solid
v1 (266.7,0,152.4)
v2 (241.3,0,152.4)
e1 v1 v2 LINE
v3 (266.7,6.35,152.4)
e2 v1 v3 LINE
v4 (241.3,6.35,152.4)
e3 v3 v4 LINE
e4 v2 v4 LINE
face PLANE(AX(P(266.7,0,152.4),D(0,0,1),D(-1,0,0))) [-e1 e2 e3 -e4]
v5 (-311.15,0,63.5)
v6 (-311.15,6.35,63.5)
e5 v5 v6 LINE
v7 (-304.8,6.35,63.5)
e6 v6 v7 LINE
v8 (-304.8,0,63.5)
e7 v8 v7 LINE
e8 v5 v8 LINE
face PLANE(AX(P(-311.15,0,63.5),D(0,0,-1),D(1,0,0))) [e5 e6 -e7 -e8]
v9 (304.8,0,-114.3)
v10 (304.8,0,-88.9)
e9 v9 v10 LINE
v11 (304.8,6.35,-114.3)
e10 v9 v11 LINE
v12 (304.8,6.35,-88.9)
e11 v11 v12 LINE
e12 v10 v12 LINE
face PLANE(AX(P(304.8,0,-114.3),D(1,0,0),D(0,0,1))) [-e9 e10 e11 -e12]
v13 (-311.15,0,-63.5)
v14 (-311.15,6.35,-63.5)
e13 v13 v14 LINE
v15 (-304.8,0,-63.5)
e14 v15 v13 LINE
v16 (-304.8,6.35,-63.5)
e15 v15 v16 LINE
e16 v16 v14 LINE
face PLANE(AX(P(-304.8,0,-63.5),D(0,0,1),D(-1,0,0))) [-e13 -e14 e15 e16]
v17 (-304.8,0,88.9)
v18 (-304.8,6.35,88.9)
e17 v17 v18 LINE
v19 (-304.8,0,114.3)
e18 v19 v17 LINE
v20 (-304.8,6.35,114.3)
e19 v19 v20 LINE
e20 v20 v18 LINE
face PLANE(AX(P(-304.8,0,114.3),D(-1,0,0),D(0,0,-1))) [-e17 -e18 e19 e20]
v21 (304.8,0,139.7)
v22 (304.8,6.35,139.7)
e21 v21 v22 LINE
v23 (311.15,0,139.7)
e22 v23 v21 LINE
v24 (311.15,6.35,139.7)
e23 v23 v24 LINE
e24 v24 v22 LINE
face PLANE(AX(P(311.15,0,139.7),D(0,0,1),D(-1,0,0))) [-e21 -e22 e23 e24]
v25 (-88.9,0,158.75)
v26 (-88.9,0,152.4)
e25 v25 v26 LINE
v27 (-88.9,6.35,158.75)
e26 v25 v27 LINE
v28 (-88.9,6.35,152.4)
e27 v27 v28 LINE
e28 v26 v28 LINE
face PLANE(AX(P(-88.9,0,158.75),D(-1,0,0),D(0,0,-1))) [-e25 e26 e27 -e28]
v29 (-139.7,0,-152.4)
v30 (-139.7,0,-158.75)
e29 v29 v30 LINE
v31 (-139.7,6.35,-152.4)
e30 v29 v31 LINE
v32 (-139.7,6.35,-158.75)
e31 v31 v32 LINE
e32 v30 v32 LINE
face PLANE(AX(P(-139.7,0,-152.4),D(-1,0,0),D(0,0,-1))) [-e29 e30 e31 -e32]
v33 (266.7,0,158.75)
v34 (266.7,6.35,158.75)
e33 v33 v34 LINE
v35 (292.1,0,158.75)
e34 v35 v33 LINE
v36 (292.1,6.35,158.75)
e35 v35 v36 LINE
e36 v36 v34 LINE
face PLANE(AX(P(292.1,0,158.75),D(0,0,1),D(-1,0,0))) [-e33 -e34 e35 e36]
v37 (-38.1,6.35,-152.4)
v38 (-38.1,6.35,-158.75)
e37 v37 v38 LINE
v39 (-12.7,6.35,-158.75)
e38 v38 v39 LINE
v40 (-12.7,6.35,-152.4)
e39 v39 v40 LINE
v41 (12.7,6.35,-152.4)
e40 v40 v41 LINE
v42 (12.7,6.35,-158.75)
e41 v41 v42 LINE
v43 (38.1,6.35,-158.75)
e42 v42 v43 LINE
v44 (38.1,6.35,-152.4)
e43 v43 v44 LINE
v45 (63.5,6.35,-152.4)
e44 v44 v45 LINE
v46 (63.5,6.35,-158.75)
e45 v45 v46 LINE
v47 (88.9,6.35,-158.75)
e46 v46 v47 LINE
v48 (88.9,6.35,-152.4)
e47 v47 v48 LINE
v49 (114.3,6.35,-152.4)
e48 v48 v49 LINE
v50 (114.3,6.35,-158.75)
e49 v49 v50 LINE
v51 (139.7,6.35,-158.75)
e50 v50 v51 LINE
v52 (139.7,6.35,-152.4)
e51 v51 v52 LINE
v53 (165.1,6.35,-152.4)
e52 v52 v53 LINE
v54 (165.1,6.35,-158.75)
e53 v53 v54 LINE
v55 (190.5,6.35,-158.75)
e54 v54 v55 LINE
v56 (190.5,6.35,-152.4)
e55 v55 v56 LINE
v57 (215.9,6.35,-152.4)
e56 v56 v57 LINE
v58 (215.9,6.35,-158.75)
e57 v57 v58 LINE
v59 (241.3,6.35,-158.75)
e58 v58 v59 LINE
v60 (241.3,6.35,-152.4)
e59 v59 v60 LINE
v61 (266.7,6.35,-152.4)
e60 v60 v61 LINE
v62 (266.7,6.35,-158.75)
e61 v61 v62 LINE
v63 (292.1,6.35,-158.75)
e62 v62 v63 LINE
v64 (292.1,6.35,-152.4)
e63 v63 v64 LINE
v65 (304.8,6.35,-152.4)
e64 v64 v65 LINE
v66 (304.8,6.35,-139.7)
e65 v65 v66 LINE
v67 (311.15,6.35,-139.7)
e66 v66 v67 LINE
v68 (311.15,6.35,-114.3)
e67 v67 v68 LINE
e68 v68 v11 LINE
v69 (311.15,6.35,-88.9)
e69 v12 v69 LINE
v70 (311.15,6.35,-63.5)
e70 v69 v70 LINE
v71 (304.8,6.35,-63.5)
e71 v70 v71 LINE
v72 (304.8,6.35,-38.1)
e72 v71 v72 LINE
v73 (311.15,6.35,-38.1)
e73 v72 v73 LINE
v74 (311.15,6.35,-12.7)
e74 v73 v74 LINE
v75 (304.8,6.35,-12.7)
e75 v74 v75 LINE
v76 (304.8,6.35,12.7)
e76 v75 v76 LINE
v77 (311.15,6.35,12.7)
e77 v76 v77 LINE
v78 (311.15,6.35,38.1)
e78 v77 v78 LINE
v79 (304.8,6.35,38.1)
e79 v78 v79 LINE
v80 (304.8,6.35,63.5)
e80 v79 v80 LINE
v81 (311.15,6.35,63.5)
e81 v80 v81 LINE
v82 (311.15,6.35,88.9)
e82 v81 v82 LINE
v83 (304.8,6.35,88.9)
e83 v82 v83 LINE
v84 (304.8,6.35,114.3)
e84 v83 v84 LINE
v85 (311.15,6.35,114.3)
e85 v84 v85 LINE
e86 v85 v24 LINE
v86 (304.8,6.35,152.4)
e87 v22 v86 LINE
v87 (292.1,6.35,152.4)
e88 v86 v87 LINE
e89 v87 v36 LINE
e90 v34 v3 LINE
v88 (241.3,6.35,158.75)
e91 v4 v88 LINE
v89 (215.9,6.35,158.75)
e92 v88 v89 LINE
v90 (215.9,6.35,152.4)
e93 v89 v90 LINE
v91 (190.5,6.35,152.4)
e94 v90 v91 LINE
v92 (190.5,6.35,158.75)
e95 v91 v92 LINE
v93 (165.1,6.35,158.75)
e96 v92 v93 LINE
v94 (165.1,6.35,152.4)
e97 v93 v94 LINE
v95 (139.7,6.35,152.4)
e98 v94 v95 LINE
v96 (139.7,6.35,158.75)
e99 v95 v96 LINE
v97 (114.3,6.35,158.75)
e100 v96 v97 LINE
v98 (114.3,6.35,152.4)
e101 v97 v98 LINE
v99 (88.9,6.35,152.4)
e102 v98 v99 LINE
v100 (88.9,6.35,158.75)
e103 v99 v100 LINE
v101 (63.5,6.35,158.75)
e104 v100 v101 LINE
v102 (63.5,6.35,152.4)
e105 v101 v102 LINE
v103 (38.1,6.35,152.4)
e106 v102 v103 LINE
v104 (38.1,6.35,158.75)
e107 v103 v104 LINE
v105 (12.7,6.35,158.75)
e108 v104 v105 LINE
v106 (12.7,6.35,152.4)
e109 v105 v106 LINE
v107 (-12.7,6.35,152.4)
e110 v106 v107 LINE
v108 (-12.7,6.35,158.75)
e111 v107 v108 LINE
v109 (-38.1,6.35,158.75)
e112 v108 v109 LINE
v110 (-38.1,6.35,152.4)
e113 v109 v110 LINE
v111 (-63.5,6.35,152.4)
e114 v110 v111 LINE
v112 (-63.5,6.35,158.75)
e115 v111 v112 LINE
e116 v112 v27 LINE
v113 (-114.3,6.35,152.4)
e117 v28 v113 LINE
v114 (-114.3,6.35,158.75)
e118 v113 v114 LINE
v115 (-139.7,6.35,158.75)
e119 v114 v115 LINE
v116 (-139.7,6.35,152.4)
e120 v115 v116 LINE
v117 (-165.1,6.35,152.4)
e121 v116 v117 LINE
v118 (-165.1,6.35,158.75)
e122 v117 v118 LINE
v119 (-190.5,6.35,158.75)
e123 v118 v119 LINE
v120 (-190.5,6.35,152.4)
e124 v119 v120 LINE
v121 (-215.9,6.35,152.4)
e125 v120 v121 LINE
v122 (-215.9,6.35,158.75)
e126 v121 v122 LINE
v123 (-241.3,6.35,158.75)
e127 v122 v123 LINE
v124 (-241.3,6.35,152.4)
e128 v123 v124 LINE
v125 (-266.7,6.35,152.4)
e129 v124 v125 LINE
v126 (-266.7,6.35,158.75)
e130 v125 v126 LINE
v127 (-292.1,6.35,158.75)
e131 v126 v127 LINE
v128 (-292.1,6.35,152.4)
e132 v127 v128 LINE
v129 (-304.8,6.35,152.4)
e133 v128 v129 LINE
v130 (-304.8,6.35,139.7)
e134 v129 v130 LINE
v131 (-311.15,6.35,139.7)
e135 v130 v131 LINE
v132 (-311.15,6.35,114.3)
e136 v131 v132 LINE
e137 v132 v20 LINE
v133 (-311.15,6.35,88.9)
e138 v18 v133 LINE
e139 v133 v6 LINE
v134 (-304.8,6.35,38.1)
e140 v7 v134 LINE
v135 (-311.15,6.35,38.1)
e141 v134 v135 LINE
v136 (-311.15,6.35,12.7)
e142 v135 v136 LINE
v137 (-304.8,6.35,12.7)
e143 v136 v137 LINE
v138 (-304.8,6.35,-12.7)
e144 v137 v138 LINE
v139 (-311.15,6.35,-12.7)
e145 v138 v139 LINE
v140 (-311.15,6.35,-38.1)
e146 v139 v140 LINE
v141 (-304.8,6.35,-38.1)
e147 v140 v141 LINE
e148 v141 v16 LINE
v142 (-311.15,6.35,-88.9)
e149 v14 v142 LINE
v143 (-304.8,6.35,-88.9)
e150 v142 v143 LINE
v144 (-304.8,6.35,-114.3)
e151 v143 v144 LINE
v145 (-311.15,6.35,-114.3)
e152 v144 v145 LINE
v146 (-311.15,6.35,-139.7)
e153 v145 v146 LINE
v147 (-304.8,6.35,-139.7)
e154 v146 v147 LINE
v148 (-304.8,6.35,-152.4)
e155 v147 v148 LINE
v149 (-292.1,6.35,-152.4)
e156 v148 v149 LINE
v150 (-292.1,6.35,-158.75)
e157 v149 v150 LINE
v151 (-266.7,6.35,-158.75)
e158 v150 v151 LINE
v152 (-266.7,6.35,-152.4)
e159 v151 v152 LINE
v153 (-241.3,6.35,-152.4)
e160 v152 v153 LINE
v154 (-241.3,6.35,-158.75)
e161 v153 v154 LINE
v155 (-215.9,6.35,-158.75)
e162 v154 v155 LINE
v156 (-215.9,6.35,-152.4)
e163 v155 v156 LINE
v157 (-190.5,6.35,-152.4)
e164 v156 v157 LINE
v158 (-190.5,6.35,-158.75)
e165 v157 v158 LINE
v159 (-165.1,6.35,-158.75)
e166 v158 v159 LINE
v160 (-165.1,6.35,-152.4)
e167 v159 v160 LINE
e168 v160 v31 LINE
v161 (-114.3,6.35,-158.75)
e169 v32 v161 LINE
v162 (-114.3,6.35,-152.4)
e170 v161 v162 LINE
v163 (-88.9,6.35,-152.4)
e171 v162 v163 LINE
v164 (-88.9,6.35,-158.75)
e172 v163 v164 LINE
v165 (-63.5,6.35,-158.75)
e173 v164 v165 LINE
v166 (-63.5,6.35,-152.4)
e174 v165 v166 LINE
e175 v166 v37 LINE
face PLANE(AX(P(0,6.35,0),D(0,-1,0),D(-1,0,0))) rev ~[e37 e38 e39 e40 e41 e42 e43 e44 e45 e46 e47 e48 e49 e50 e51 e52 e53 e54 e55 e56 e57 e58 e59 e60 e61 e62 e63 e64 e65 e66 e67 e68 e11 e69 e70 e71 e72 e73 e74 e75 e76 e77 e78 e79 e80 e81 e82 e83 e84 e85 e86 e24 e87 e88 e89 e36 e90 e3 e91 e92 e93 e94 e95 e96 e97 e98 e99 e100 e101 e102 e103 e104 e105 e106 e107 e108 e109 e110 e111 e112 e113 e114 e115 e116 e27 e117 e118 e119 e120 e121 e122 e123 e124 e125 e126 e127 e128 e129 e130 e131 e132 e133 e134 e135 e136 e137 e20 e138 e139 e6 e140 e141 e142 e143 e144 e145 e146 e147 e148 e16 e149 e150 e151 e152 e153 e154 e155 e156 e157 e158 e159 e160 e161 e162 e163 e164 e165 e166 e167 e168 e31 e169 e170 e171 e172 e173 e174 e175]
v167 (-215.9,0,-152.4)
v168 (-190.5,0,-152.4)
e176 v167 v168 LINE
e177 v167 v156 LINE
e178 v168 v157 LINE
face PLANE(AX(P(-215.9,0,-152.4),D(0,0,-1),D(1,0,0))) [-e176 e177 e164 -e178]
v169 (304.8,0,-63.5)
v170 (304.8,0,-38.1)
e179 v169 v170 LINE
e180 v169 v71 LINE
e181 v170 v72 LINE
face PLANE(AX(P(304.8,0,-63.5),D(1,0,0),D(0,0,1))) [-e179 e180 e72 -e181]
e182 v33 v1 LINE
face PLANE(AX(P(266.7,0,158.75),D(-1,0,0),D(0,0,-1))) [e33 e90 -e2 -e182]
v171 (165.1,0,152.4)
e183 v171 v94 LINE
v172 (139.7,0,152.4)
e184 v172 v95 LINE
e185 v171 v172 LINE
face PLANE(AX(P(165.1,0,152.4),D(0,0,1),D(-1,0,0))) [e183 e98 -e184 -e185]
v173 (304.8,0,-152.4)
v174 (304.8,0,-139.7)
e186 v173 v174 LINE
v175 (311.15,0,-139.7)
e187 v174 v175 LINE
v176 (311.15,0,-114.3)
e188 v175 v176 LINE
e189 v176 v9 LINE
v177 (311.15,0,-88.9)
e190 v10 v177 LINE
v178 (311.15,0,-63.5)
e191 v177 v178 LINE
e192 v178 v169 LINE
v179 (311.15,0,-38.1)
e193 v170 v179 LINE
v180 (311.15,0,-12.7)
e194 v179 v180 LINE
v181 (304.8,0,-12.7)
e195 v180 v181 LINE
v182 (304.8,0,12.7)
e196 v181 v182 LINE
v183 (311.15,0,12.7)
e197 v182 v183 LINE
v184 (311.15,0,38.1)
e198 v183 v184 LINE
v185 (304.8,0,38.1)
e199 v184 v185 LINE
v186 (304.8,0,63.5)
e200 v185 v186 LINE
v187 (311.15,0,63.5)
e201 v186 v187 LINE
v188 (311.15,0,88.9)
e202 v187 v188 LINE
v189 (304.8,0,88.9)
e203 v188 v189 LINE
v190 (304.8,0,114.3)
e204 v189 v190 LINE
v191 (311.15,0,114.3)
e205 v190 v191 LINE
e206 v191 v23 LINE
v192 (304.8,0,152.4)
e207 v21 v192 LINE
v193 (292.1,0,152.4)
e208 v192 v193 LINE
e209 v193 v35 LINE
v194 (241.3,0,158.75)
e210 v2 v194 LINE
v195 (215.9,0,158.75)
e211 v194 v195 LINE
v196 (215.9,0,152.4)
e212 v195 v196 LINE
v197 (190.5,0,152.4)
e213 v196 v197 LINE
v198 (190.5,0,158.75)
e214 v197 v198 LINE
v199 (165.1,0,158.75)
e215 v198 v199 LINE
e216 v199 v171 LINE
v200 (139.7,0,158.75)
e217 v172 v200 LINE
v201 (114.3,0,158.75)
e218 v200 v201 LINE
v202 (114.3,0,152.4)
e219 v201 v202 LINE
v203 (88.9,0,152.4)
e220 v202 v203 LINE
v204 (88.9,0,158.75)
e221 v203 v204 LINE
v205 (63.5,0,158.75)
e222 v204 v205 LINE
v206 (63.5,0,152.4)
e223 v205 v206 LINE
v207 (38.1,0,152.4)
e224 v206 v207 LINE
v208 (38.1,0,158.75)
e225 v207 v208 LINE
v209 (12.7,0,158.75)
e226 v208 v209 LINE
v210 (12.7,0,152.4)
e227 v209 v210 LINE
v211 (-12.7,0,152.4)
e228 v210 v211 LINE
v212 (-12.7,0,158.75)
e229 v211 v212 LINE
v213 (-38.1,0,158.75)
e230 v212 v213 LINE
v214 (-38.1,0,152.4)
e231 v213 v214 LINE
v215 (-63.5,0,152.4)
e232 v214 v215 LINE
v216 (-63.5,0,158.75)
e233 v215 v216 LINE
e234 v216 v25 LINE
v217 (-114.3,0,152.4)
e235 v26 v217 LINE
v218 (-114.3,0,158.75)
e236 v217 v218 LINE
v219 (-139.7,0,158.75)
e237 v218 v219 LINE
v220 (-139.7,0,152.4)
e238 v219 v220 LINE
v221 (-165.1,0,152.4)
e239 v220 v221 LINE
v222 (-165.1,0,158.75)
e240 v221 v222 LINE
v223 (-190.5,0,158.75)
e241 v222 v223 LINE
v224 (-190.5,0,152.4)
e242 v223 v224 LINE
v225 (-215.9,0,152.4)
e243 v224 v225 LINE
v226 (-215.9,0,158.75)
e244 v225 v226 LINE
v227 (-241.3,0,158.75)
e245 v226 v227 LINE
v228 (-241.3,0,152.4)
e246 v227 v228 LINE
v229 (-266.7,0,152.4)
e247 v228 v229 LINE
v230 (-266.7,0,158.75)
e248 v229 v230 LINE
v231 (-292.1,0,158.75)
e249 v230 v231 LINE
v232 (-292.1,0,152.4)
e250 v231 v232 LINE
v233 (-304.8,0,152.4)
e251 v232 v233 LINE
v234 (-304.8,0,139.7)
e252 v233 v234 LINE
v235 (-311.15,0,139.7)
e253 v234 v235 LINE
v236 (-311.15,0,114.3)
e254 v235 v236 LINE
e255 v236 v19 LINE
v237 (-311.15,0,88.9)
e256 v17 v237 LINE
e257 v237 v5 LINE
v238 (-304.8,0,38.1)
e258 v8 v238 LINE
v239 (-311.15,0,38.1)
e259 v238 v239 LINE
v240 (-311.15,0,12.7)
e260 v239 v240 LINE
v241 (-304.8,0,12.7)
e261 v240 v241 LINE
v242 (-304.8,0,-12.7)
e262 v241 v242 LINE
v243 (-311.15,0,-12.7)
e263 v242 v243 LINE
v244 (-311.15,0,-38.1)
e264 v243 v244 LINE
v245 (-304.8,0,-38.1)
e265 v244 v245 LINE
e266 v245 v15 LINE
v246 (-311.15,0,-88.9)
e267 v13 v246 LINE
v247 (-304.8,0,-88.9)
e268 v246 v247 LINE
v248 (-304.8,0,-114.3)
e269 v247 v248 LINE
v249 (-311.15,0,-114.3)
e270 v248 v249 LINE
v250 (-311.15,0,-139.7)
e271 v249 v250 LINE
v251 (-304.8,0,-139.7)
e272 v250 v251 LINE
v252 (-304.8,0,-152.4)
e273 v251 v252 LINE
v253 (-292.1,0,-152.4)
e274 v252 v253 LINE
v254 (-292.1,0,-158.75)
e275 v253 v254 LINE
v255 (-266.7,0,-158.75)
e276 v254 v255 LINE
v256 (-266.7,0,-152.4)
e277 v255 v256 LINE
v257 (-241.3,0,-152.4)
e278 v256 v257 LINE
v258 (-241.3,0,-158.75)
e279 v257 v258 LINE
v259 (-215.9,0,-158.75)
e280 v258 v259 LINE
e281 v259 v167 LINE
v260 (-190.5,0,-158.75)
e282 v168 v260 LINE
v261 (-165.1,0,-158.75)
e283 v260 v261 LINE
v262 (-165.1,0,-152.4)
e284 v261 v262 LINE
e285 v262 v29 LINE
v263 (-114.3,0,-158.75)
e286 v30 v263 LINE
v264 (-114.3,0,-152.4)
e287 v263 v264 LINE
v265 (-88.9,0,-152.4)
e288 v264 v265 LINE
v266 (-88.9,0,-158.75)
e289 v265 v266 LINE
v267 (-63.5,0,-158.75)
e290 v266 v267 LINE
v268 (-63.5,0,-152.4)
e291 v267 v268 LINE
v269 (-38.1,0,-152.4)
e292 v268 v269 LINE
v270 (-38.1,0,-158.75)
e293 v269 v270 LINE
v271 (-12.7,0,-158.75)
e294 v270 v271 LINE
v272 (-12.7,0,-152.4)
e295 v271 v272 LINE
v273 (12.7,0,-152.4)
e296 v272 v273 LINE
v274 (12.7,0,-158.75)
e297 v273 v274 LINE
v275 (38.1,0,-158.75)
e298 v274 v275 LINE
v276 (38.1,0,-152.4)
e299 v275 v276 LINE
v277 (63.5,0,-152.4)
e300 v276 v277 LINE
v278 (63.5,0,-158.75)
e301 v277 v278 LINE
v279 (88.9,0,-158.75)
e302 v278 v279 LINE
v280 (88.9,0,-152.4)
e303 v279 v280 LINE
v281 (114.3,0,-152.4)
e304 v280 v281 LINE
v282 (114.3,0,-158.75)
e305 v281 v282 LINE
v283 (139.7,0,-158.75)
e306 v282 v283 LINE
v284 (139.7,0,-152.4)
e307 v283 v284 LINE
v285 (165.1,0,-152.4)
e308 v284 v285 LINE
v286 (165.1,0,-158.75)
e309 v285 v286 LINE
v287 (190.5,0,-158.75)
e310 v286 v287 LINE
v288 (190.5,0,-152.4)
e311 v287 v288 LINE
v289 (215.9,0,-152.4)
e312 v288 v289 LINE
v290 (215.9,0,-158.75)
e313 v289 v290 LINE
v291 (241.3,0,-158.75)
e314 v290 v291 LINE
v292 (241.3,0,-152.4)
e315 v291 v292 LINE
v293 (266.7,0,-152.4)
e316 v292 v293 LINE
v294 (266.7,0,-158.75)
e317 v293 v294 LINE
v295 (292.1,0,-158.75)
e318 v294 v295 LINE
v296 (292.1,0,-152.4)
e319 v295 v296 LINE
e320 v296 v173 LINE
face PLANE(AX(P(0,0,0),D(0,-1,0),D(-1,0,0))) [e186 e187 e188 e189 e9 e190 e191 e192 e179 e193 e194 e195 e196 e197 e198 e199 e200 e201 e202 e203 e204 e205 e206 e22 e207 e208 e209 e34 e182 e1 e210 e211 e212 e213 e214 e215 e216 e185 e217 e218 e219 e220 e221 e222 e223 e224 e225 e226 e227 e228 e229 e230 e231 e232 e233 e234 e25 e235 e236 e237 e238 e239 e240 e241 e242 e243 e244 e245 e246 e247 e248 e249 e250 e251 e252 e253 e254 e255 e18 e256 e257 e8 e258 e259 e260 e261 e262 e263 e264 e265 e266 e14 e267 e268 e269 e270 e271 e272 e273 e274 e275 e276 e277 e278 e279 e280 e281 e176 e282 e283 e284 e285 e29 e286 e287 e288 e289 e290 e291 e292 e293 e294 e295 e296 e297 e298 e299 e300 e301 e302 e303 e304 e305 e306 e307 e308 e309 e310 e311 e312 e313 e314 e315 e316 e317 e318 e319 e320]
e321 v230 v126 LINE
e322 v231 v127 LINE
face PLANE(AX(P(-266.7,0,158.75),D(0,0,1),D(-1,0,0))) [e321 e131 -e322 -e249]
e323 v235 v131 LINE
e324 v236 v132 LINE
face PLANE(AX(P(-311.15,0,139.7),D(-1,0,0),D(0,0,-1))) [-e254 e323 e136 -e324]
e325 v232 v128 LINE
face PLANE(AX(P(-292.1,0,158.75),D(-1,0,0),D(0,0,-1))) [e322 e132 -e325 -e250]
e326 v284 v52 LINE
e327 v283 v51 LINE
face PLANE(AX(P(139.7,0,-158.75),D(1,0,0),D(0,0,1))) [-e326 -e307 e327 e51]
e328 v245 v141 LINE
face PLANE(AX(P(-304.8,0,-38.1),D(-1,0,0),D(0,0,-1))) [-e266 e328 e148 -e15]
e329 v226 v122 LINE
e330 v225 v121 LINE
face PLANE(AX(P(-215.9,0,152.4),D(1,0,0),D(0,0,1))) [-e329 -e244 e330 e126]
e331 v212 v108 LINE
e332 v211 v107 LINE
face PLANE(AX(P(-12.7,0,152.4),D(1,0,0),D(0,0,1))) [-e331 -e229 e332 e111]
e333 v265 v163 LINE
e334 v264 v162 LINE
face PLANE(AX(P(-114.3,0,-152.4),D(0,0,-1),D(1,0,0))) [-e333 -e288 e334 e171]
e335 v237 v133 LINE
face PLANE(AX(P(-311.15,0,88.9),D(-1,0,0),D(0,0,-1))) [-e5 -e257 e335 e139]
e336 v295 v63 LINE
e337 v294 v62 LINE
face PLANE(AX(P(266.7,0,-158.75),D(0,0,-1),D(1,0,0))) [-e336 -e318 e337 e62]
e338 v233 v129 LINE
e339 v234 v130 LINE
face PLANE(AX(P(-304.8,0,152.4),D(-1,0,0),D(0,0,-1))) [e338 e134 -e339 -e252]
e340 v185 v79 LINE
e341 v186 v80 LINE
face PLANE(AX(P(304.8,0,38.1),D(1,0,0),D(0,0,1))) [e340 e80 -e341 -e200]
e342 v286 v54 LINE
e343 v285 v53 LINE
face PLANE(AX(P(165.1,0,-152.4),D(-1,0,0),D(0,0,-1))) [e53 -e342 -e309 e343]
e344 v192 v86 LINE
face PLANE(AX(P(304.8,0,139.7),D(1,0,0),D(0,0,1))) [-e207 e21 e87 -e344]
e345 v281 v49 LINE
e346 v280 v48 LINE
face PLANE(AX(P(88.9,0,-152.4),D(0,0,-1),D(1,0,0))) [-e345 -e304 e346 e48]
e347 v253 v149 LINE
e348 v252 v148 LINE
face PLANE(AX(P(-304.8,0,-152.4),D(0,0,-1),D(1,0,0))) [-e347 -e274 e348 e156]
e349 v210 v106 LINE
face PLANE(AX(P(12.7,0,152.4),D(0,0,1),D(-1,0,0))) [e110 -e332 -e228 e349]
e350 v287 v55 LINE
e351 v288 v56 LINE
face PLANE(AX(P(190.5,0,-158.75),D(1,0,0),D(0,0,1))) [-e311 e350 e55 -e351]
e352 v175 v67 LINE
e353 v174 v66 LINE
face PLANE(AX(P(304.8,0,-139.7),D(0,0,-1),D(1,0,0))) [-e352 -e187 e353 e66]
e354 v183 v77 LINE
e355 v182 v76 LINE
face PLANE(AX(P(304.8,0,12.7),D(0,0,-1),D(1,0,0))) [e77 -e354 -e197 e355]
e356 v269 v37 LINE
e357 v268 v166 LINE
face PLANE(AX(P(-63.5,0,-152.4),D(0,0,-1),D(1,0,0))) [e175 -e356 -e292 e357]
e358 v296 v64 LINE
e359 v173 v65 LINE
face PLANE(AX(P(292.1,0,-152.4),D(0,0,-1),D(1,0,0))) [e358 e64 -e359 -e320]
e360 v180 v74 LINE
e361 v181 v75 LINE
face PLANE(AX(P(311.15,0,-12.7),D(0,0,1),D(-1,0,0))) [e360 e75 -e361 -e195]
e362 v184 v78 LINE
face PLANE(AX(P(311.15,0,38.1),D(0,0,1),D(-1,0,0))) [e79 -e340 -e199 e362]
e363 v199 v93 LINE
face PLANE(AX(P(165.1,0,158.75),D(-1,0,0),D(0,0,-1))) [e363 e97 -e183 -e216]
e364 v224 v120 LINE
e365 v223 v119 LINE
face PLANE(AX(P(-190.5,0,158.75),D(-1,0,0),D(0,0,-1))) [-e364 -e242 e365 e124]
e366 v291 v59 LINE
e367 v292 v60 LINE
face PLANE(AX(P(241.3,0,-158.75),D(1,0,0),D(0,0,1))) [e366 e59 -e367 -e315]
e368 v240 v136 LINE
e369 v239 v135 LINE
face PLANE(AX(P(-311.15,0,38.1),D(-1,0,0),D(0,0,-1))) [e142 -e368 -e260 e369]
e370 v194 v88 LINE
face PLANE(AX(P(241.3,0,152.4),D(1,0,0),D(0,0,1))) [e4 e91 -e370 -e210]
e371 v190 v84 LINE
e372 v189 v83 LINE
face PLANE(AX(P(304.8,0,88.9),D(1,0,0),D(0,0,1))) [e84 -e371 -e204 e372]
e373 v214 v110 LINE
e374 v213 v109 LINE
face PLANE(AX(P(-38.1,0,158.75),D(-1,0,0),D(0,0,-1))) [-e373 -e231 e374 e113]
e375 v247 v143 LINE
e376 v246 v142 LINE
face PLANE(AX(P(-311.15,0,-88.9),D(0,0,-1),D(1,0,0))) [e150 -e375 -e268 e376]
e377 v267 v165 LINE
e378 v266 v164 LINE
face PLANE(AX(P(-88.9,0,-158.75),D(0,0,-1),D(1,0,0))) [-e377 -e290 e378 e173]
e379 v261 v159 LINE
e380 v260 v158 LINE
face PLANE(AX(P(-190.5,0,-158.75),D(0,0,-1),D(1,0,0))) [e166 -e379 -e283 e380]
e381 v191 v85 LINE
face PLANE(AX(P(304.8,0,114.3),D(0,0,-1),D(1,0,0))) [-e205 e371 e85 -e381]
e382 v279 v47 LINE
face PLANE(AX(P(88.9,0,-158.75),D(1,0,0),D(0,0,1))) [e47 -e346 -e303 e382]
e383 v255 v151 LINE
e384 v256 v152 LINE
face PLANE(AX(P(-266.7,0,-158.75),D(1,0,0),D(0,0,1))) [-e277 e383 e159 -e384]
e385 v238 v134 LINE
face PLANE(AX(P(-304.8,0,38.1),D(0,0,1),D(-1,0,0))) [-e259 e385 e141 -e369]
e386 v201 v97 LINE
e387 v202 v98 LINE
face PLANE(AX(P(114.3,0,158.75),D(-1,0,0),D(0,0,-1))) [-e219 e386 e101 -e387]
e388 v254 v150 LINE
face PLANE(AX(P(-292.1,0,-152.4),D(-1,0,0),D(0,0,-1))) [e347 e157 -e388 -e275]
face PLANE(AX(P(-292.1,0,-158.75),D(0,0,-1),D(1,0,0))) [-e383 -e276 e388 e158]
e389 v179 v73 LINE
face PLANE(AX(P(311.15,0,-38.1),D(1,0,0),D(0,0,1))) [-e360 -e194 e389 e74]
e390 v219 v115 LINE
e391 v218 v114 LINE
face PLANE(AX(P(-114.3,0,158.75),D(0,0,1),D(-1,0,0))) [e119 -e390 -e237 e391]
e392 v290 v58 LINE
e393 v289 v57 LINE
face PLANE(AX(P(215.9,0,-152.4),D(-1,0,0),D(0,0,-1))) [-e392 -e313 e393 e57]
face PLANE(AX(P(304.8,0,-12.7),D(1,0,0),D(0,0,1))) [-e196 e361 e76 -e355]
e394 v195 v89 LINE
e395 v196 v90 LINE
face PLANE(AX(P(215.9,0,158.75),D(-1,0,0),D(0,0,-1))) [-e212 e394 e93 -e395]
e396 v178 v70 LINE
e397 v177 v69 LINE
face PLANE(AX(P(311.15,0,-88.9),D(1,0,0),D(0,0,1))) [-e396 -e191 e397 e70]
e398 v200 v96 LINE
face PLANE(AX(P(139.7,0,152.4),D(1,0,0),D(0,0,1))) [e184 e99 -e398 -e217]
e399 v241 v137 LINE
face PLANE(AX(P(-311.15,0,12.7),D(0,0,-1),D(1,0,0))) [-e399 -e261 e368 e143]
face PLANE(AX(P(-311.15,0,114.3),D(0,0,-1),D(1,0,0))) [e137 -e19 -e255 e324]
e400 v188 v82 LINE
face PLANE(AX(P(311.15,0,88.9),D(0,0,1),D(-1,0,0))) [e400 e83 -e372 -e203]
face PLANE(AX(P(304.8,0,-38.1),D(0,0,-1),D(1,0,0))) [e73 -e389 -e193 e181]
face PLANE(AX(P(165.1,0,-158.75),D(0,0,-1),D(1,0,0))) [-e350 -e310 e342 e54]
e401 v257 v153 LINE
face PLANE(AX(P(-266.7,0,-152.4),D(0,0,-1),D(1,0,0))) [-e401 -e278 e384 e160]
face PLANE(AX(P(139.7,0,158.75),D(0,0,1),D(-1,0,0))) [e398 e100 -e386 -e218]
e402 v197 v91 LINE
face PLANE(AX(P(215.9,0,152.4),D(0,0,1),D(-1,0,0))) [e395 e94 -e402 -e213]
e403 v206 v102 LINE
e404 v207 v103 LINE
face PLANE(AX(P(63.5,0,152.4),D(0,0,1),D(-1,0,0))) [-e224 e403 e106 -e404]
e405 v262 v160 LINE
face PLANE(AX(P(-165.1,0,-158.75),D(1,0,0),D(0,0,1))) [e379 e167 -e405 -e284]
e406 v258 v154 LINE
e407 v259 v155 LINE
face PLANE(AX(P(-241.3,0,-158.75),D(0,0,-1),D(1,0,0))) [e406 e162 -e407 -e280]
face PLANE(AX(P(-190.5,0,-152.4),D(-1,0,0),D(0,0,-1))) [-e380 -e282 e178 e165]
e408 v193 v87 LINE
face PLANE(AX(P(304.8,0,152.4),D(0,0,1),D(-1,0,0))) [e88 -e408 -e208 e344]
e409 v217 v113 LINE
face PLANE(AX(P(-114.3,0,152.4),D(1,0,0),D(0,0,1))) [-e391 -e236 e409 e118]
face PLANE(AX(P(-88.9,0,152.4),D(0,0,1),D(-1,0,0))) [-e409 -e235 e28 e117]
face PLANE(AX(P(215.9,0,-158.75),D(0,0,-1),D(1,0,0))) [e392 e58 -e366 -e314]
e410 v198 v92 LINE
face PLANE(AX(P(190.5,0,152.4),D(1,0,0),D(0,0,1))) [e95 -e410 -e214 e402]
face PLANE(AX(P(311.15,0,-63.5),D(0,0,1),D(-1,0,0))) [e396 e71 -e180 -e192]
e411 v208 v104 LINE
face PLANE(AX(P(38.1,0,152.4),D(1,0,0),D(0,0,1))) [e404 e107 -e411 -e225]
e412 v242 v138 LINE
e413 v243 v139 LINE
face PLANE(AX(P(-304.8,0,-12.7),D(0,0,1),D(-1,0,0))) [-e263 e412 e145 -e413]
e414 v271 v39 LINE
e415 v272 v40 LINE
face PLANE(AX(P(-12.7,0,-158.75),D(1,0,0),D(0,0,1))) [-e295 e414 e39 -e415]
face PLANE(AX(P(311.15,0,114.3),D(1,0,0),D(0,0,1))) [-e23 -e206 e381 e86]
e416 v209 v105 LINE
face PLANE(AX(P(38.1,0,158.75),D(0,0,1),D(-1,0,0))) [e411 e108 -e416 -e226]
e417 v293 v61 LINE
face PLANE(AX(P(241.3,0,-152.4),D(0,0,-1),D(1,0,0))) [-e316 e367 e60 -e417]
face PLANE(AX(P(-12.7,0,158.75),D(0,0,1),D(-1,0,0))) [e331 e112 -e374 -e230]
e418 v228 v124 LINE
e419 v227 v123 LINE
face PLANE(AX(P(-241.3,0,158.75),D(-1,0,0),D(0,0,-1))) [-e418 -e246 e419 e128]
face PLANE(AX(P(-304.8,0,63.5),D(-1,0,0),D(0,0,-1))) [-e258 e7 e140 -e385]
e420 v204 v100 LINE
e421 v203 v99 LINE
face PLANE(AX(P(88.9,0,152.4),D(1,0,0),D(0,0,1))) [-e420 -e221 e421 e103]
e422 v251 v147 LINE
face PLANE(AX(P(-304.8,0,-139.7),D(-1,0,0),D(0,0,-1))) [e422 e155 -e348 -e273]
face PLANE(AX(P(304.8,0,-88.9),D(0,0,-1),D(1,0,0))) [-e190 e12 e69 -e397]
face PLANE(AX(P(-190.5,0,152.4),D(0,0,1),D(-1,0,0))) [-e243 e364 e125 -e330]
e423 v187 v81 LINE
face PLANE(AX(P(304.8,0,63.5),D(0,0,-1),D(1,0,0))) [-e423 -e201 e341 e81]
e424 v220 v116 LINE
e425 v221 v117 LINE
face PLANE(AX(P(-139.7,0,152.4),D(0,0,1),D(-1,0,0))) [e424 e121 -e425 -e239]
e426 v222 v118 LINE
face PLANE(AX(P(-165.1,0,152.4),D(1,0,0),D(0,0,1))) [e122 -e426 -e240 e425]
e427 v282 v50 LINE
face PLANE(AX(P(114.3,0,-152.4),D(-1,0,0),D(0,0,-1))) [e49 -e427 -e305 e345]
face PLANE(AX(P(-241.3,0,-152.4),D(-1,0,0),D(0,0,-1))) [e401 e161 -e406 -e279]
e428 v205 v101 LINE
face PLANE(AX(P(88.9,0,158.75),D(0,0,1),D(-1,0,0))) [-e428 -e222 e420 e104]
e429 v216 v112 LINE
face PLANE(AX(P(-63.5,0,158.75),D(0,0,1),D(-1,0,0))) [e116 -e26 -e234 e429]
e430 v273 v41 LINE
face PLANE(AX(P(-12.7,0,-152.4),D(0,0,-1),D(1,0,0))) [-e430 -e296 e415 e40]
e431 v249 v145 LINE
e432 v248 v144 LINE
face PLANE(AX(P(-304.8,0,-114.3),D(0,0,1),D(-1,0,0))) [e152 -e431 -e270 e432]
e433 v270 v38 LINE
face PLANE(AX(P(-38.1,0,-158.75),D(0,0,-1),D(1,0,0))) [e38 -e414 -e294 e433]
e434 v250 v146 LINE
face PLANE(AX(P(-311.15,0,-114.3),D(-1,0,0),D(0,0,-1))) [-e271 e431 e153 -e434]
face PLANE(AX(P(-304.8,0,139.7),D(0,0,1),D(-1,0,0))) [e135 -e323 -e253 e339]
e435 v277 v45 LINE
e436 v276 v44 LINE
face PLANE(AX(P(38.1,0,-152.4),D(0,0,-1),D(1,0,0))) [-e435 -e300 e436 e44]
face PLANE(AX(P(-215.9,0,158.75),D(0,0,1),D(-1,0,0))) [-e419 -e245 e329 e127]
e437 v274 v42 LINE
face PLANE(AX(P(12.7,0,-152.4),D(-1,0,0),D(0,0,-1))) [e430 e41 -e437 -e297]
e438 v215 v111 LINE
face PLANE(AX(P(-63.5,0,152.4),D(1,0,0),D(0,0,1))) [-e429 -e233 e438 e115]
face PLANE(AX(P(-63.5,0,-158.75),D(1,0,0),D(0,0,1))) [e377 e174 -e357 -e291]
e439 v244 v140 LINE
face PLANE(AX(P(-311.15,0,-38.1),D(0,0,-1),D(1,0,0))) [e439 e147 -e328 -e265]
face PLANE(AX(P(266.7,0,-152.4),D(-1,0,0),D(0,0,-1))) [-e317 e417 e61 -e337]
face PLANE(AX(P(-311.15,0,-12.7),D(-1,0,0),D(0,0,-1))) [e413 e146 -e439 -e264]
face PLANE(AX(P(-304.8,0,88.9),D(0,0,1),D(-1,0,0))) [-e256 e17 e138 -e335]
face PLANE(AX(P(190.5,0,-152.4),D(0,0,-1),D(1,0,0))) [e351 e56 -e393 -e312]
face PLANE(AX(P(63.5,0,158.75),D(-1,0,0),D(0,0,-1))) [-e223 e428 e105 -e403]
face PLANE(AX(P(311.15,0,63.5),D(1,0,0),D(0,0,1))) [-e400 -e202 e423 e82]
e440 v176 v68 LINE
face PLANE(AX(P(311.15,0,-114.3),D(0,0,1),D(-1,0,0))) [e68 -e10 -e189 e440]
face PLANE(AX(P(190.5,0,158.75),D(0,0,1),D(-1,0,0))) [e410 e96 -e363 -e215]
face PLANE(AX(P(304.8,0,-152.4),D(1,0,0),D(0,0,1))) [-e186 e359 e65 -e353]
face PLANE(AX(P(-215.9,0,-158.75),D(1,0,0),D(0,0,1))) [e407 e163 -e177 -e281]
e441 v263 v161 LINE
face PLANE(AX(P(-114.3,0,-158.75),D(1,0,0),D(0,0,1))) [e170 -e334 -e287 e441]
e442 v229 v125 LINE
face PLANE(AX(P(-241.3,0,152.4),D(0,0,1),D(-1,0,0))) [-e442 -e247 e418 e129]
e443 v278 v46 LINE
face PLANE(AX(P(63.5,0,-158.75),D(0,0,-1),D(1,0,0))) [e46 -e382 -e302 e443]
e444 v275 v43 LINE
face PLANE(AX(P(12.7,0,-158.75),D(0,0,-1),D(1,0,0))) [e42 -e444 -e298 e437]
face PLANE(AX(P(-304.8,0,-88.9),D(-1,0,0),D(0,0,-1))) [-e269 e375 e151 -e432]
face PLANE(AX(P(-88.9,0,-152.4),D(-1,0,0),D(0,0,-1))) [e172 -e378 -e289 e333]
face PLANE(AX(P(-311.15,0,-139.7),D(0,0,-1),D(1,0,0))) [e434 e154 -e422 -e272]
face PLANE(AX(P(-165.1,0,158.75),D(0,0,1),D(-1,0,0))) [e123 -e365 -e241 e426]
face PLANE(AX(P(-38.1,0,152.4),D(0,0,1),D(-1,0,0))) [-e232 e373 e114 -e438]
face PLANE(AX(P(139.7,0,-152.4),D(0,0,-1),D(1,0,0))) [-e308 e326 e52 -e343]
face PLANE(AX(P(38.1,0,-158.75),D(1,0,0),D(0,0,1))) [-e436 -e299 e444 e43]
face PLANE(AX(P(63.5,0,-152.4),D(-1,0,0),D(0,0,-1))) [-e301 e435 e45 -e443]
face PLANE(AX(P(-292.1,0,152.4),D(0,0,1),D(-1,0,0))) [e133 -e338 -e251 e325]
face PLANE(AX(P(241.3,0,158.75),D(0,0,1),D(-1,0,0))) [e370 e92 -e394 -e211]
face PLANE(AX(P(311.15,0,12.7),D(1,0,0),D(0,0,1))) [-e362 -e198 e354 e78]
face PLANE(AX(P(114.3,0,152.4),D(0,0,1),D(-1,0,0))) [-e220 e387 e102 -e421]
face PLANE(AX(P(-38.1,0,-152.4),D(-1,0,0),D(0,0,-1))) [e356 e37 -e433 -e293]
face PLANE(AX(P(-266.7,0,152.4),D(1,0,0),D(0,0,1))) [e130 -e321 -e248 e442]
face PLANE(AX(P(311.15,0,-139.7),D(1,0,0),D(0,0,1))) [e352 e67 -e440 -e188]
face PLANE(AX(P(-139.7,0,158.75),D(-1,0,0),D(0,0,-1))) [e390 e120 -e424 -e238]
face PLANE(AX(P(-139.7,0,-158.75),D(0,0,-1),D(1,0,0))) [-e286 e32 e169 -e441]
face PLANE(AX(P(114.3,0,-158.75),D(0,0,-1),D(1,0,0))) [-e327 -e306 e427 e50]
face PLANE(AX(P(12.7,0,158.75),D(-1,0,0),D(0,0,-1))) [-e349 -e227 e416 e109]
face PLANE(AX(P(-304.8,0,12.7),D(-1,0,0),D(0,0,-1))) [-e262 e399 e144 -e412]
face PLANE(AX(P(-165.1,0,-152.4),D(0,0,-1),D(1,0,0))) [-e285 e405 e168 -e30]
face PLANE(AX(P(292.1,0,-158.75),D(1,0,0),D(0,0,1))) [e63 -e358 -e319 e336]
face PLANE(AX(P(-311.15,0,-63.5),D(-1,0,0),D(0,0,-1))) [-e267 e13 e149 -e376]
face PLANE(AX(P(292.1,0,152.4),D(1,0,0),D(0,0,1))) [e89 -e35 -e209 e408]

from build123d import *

# Parameters (mm, degrees)
BOSS_EXTRUDE1_DEPTH = 6.35


with BuildPart() as part:
    # Sketch2 → Boss-Extrude1 (new body)
    with BuildSketch(Plane(origin=(0, 0, 0), x_dir=(1, 0, 0), z_dir=(0, 1, 0))):
        Polygon((-292.1, 152.4), (-292.1, 158.75), (-266.7, 158.75), (-266.7, 152.4), (-241.3, 152.4), (-241.3, 158.75), (-215.9, 158.75), (-215.9, 152.4), (-190.5, 152.4), (-190.5, 158.75), (-165.1, 158.75), (-165.1, 152.4), (-139.7, 152.4), (-139.7, 158.75), (-114.3, 158.75), (-114.3, 152.4), (-88.9, 152.4), (-88.9, 158.75), (-63.5, 158.75), (-63.5, 152.4), (-38.1, 152.4), (-38.1, 158.75), (-12.7, 158.75), (-12.7, 152.4), (12.7, 152.4), (12.7, 158.75), (38.1, 158.75), (38.1, 152.4), (63.5, 152.4), (63.5, 158.75), (88.9, 158.75), (88.9, 152.4), (114.3, 152.4), (114.3, 158.75), (139.7, 158.75), (139.7, 152.4), (165.1, 152.4), (165.1, 158.75), (190.5, 158.75), (190.5, 152.4), (215.9, 152.4), (215.9, 158.75), (241.3, 158.75), (241.3, 152.4), (266.7, 152.4), (266.7, 158.75), (292.1, 158.75), (292.1, 152.4), (304.8, 152.4), (304.8, 139.7), (311.15, 139.7), (311.15, 114.3), (304.8, 114.3), (304.8, 88.9), (311.15, 88.9), (311.15, 63.5), (304.8, 63.5), (304.8, 38.1), (311.15, 38.1), (311.15, 12.7), (304.8, 12.7), (304.8, -12.7), (311.15, -12.7), (311.15, -38.1), (304.8, -38.1), (304.8, -63.5), (311.15, -63.5), (311.15, -88.9), (304.8, -88.9), (304.8, -114.3), (311.15, -114.3), (311.15, -139.7), (304.8, -139.7), (304.8, -152.4), (292.1, -152.4), (292.1, -158.75), (266.7, -158.75), (266.7, -152.4), (241.3, -152.4), (241.3, -158.75), (215.9, -158.75), (215.9, -152.4), (190.5, -152.4), (190.5, -158.75), (165.1, -158.75), (165.1, -152.4), (139.7, -152.4), (139.7, -158.75), (114.3, -158.75), (114.3, -152.4), (88.9, -152.4), (88.9, -158.75), (63.5, -158.75), (63.5, -152.4), (38.1, -152.4), (38.1, -158.75), (12.7, -158.75), (12.7, -152.4), (-12.7, -152.4), (-12.7, -158.75), (-38.1, -158.75), (-38.1, -152.4), (-63.5, -152.4), (-63.5, -158.75), (-88.9, -158.75), (-88.9, -152.4), (-114.3, -152.4), (-114.3, -158.75), (-139.7, -158.75), (-139.7, -152.4), (-165.1, -152.4), (-165.1, -158.75), (-190.5, -158.75), (-190.5, -152.4), (-215.9, -152.4), (-215.9, -158.75), (-241.3, -158.75), (-241.3, -152.4), (-266.7, -152.4), (-266.7, -158.75), (-292.1, -158.75), (-292.1, -152.4), (-304.8, -152.4), (-304.8, -139.7), (-311.15, -139.7), (-311.15, -114.3), (-304.8, -114.3), (-304.8, -88.9), (-311.15, -88.9), (-311.15, -63.5), (-304.8, -63.5), (-304.8, -38.1), (-311.15, -38.1), (-311.15, -12.7), (-304.8, -12.7), (-304.8, 12.7), (-311.15, 12.7), (-311.15, 38.1), (-304.8, 38.1), (-304.8, 63.5), (-311.15, 63.5), (-311.15, 88.9), (-304.8, 88.9), (-304.8, 114.3), (-311.15, 114.3), (-311.15, 139.7), (-304.8, 139.7), (-304.8, 152.4), align=None)
    extrude(amount=BOSS_EXTRUDE1_DEPTH)


solid = part.part
